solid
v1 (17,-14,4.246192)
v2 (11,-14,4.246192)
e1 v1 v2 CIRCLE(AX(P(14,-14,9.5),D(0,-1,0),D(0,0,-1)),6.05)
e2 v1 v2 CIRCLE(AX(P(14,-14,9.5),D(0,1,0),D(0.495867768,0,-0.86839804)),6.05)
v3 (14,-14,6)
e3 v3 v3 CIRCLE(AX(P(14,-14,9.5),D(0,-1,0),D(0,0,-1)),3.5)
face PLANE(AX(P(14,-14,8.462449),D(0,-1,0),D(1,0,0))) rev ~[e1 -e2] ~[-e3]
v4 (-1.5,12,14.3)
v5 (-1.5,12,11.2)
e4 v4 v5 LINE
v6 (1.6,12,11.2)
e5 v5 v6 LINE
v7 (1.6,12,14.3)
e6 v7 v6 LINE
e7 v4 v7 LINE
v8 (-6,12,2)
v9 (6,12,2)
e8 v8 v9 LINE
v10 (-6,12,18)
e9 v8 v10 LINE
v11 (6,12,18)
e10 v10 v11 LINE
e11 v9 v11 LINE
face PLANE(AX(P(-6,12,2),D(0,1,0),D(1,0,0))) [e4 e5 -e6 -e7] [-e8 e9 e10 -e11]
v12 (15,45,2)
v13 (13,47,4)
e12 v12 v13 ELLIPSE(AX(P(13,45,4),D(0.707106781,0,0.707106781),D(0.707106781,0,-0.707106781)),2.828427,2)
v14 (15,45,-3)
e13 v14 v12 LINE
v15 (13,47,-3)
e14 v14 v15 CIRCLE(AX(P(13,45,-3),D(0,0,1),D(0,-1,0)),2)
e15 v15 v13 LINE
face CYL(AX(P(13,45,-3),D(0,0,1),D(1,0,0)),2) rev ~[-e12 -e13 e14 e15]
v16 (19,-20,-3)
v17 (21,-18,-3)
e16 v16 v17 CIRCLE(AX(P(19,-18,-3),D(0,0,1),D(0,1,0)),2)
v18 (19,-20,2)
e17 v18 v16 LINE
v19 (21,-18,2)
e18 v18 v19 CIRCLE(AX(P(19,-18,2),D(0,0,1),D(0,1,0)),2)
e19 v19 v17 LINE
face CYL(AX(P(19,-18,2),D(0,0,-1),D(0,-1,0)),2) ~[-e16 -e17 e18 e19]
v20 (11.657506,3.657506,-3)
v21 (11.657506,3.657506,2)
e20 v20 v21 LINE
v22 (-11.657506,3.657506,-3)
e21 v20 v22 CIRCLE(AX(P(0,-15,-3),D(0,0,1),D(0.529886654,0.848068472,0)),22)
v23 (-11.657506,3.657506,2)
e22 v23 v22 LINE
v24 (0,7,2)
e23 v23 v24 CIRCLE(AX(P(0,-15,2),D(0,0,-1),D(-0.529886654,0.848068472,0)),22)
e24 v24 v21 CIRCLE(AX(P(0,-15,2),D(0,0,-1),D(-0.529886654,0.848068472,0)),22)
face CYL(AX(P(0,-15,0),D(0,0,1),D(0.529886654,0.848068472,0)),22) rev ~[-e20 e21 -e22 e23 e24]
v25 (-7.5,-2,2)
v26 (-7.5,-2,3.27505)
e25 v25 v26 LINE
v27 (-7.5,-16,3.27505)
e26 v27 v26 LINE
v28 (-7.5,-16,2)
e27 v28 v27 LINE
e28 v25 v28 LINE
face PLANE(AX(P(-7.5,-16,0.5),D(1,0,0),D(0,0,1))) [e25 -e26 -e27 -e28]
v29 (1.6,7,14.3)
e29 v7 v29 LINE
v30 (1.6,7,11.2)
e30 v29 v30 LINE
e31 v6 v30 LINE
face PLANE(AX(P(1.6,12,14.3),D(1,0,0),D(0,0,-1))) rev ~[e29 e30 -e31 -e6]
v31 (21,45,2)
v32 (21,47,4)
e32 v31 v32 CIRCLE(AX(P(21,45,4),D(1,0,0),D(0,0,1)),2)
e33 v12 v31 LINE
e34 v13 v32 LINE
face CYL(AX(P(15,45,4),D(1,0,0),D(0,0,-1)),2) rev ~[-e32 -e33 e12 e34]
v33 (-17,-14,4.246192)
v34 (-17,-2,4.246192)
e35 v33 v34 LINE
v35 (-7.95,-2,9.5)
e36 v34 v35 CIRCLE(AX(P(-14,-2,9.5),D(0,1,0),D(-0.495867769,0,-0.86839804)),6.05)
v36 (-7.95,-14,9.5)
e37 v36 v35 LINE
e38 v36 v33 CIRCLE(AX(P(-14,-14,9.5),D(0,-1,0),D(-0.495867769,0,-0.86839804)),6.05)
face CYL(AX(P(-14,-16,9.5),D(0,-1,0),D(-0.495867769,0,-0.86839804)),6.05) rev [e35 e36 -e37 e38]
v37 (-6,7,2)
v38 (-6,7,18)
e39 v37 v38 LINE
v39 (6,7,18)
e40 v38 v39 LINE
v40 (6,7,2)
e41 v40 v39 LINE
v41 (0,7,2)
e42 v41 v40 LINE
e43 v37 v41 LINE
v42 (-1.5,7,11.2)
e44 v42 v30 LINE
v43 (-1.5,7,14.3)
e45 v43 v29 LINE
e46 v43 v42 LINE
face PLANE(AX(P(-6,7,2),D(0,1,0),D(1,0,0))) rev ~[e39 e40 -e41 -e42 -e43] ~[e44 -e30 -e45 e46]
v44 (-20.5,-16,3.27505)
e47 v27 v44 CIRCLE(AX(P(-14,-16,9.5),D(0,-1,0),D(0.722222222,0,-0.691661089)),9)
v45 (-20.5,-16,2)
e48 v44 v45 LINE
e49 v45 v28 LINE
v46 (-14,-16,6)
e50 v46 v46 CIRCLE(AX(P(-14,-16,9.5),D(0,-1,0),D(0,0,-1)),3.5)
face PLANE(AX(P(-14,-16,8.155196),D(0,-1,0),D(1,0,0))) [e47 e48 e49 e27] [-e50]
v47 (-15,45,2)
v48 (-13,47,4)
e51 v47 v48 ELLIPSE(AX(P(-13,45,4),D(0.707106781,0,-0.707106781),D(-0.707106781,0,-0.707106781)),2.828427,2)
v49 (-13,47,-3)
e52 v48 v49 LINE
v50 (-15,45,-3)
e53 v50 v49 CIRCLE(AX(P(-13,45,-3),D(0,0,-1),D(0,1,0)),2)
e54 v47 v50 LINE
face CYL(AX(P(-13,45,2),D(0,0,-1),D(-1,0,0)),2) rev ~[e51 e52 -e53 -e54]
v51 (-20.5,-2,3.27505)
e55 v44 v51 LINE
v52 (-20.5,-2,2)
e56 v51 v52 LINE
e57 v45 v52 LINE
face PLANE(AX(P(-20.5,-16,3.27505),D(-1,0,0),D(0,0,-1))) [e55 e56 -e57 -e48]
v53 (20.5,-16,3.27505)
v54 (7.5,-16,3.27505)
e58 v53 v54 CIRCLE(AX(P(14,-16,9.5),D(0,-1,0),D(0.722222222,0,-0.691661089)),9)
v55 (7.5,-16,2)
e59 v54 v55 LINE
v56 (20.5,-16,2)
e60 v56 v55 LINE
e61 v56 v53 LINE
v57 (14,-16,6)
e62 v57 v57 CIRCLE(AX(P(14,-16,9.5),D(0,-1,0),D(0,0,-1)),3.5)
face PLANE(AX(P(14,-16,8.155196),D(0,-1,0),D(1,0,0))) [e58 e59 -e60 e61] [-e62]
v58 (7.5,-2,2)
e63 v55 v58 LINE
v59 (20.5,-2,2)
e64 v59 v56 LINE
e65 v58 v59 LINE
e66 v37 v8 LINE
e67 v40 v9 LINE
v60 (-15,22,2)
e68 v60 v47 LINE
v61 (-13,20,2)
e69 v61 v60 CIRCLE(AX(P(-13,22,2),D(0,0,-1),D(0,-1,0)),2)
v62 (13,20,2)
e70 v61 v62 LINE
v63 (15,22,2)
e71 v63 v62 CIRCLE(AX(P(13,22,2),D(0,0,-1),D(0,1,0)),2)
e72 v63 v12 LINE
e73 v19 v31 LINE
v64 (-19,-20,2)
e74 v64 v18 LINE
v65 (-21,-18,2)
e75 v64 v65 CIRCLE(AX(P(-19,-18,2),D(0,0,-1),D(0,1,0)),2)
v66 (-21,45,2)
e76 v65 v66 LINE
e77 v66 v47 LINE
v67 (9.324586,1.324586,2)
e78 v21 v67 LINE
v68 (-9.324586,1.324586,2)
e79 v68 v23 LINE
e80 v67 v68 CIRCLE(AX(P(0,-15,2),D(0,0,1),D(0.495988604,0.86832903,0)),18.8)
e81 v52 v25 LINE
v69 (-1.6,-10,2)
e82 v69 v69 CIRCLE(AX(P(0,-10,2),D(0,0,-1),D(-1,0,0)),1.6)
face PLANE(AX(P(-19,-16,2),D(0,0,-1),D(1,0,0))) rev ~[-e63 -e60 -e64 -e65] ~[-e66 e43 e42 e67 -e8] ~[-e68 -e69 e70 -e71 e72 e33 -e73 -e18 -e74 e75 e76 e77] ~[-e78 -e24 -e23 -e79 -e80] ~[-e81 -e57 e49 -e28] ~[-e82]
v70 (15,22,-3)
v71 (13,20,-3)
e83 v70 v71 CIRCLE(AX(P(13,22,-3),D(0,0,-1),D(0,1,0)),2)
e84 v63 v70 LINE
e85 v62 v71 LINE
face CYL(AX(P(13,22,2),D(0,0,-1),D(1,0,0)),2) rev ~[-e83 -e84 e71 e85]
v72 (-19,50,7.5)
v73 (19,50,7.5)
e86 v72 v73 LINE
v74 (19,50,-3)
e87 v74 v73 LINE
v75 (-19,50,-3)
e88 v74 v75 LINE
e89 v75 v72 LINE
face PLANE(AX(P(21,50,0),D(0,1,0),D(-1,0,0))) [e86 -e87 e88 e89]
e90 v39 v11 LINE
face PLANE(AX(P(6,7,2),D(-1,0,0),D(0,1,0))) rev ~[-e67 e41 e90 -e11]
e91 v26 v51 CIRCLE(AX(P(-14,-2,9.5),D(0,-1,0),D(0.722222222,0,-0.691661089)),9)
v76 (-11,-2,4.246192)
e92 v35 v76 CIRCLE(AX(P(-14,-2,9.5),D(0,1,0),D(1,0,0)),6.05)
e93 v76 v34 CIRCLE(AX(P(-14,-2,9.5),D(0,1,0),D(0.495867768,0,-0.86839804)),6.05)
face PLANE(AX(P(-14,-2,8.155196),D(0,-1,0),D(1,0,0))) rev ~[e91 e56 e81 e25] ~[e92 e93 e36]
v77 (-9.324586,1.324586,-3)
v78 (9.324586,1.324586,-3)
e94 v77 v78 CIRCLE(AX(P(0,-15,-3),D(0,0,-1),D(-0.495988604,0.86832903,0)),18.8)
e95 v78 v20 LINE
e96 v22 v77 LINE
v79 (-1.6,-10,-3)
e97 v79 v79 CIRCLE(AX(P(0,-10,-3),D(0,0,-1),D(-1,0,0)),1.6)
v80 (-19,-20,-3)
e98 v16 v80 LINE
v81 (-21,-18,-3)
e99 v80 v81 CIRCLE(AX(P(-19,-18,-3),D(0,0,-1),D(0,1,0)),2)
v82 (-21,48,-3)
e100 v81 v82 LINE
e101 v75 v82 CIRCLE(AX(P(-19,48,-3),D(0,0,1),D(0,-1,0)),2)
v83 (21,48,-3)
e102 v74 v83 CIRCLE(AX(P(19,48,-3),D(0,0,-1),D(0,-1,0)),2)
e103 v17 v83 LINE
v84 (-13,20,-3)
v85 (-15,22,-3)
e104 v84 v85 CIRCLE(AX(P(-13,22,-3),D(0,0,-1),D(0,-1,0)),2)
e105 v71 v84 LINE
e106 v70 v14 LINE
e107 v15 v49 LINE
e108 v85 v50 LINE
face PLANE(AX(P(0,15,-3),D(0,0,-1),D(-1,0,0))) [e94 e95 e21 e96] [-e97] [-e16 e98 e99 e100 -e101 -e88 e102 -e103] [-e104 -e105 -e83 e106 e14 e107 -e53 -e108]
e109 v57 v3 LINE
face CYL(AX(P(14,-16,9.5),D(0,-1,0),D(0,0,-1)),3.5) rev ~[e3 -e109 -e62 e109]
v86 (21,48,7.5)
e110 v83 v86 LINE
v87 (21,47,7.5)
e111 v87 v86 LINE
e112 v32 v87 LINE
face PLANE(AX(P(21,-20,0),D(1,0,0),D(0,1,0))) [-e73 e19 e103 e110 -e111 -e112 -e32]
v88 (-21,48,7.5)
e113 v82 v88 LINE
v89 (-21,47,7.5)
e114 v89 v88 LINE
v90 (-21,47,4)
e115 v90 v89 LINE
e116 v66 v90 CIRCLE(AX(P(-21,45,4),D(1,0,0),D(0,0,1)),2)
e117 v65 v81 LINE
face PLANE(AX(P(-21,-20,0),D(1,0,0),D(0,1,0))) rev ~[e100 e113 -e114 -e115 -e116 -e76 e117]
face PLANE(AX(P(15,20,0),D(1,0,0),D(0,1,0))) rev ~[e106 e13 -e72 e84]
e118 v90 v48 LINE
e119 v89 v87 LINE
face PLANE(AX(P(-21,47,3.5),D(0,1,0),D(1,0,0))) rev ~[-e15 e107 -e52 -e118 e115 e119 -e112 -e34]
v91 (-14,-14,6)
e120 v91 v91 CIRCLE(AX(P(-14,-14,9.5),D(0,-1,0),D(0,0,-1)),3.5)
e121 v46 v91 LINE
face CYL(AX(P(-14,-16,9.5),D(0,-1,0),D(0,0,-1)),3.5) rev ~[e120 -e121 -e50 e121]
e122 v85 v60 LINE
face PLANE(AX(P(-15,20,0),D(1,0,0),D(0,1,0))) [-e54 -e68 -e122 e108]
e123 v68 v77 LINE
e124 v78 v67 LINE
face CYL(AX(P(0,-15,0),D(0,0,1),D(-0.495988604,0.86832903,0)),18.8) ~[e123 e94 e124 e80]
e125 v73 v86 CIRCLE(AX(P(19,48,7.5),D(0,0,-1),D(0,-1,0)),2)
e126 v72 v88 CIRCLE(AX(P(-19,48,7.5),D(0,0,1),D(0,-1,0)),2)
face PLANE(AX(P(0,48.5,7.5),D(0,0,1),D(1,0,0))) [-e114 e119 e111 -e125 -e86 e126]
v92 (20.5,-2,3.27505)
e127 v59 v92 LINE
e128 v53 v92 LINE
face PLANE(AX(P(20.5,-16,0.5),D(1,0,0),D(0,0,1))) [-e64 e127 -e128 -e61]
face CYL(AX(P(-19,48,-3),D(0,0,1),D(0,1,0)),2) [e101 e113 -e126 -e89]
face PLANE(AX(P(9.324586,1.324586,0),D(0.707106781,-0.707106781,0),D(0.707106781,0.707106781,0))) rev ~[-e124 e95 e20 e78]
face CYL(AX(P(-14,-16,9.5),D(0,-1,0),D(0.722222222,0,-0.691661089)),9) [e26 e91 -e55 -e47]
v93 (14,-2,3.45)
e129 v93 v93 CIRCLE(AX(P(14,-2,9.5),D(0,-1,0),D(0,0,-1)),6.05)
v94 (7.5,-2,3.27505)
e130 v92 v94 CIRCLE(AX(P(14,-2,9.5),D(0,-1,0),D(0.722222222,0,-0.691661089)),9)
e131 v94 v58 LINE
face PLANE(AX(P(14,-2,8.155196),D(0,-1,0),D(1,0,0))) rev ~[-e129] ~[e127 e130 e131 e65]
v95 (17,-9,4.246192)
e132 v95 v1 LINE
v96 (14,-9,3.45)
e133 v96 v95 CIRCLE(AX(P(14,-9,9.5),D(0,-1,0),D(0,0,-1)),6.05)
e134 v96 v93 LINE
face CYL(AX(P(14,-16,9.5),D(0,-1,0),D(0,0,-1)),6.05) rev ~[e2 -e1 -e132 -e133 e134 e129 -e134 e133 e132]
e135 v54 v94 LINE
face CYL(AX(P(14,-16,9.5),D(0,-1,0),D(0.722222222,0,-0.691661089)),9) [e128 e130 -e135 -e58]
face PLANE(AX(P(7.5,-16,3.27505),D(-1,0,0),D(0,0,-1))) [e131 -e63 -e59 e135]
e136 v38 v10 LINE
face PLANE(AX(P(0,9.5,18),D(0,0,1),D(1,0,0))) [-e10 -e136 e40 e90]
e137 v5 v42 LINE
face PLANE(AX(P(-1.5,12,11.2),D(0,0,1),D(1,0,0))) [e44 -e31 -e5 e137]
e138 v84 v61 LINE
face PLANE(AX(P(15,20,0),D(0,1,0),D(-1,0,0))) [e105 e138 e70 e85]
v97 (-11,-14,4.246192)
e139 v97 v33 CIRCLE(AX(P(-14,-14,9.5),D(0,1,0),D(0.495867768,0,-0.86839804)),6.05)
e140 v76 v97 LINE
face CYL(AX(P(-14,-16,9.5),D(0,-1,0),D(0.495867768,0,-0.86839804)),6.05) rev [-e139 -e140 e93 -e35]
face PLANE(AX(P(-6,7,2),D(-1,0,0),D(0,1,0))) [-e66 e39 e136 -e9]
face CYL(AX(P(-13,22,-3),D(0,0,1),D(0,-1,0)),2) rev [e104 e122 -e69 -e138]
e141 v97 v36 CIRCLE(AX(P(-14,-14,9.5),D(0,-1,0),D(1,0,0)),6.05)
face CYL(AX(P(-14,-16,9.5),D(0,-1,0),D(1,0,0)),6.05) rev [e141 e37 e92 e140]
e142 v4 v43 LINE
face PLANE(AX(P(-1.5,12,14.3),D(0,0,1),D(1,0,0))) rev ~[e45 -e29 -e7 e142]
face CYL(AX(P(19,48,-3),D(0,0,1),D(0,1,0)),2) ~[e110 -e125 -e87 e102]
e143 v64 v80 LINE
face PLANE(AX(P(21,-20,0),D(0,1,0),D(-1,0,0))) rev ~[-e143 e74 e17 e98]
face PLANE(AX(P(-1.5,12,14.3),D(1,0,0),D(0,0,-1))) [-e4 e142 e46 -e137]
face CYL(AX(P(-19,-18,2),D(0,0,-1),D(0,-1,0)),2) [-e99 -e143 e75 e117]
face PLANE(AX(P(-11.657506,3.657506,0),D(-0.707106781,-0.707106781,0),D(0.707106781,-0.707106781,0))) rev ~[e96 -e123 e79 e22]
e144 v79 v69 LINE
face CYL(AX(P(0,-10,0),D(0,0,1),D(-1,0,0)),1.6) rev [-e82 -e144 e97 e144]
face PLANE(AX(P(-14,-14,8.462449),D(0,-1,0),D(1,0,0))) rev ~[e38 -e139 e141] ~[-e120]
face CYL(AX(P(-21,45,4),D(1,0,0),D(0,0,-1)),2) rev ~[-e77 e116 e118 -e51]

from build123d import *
from build123d.topology import SkipClean

# Parameters (mm, degrees)
SKETCH1_W                                    = 42
SKETCH1_H                                    = 40
BOSS_EXTRUDE2_DEPTH                          = 2
SKETCH2_W                                    = 6
SKETCH2_H                                    = 4
BOSS_EXTRUDE5_DEPTH                          = 3
SKETCH4_R                                    = 3.5
SKETCH4_R_2                                  = 1.6
BOSS_EXTRUDE6_DEPTH                          = 4
MIRROR2_AT_THE_SECOND_PLANE_COPY_1_SKETC_W   = 6
MIRROR2_AT_THE_SECOND_PLANE_COPY_1_SKETC_H   = 4
MIRROR2_AT_THE_SECOND_PLANE_COPY_1_DEPTH     = 3
MIRROR2_AT_THE_SECOND_PLANE_COPY_2_SKETC_R   = 3.5
MIRROR2_AT_THE_SECOND_PLANE_COPY_2_SKETC_R_2 = 1.6
MIRROR2_AT_THE_SECOND_PLANE_COPY_2_DEPTH     = 4
CUT_EXTRUDE2_DEPTH                           = 2
SKETCH8_R                                    = 1.6
CUT_EXTRUDE3_DEPTH                           = 2
SKETCH18_W                                   = 6
SKETCH18_H                                   = 2
BOSS_EXTRUDE10_DEPTH                         = 30
SKETCH19_W                                   = 42
SKETCH19_H                                   = 3.5
BOSS_EXTRUDE11_DEPTH                         = 3
SKETCH20_R                                   = 1.6
BOSS_EXTRUDE12_DEPTH                         = 10
SKETCH22_R                                   = 1.6
CUT_EXTRUDE4_DEPTH                           = 7
SKETCH23_R                                   = 6.05
BOSS_EXTRUDE14_DEPTH                         = 14
SKETCH21_R                                   = 1.6
CUT_EXTRUDE5_DEPTH                           = 10
CUT_EXTRUDE7_DEPTH                           = 22
CUT_EXTRUDE9_DEPTH                           = 2
BOSS_EXTRUDE19_START                         = 2
SKETCH32_R                                   = 3.5
BOSS_EXTRUDE19_DEPTH                         = 2
SKETCH33_W                                   = 42
SKETCH33_H                                   = 3
BOSS_EXTRUDE20_DEPTH                         = 4
SKETCH34_W                                   = 42
SKETCH34_H                                   = 70
SKETCH34_R                                   = 1.6
SKETCH34_W_2                                 = 30
SKETCH34_H_2                                 = 27
BOSS_EXTRUDE21_DEPTH                         = 3
BOSS_EXTRUDE22_DEPTH                         = 14
FILLET1_R                                    = 2
SKETCH36_W                                   = 12
SKETCH36_H                                   = 5
BOSS_EXTRUDE23_DEPTH                         = 16
SKETCH37_W                                   = 3.1
SKETCH37_H                                   = 3.1
CUT_EXTRUDE10_DEPTH                          = 12


with BuildPart() as part:
    # Sketch1 → Boss-Extrude2 (new body)
    with BuildSketch(Plane.XY):
        Rectangle(SKETCH1_W, SKETCH1_H)
    extrude(amount=BOSS_EXTRUDE2_DEPTH)

    # Sketch2 → Boss-Extrude5 (add)
    with BuildSketch(Plane.XY.offset(2)):
        with Locations((-14, 10)):
            Rectangle(SKETCH2_W, SKETCH2_H)
    boss_extrude5 = extrude(amount=BOSS_EXTRUDE5_DEPTH)

    # Sketch4 → Boss-Extrude6 (add)
    with BuildSketch(Plane(origin=(0, 12, 0), x_dir=(1, 0, 0), z_dir=(0, 1, 0))):
        with Locations((-14, -6.6)):
            Circle(SKETCH4_R)
        with Locations(Location((-14, -6.6, 0), (0, 0, 270))):
            Circle(SKETCH4_R_2, mode=Mode.SUBTRACT)
    boss_extrude6 = extrude(amount=-BOSS_EXTRUDE6_DEPTH)

    # Mirror2: Boss-Extrude5, Boss-Extrude6 across plane
    add(boss_extrude5.mirror(Plane(origin=(0, 0, 0), x_dir=(0, 0, 1), z_dir=(1, 0, 0))))
    add(boss_extrude6.mirror(Plane(origin=(0, 0, 0), x_dir=(0, 0, 1), z_dir=(1, 0, 0))))

    # Mirror2 at the second plane: Boss-Extrude5, Boss-Extrude6 across plane
    add(boss_extrude5.mirror(Plane(origin=(0, 3, 0), x_dir=(0, 0, 1), z_dir=(0, -1, 0))))
    add(boss_extrude6.mirror(Plane(origin=(0, 3, 0), x_dir=(0, 0, 1), z_dir=(0, -1, 0))))

    # Mirror2 at the second plane copy 1 sketc → Mirror2 at the second plane copy 1 (add)
    with BuildSketch(Plane(origin=(0, 6, 2), x_dir=(-1, 0, 0), z_dir=(0, 0, 1))):
        with Locations((-14, 10)):
            Rectangle(MIRROR2_AT_THE_SECOND_PLANE_COPY_1_SKETC_W, MIRROR2_AT_THE_SECOND_PLANE_COPY_1_SKETC_H)
    extrude(amount=MIRROR2_AT_THE_SECOND_PLANE_COPY_1_DEPTH)

    # Mirror2 at the second plane copy 2 sketc → Mirror2 at the second plane copy 2 (add)
    with BuildSketch(Plane(origin=(0, -6, 0), x_dir=(-1, 0, 0), z_dir=(0, -1, 0))):
        with Locations((-14, -6.6)):
            Circle(MIRROR2_AT_THE_SECOND_PLANE_COPY_2_SKETC_R)
        with Locations(Location((-14, -6.6, 0), (0, 0, 270))):
            Circle(MIRROR2_AT_THE_SECOND_PLANE_COPY_2_SKETC_R_2, mode=Mode.SUBTRACT)
    extrude(amount=-MIRROR2_AT_THE_SECOND_PLANE_COPY_2_DEPTH)

    # Sketch7 → Cut-Extrude2 (cut)
    with BuildSketch(Plane.XY.offset(2)):
        with BuildLine():
            ThreePointArc((9.324585763, 1.324585763), (0, 3.8), (-9.324585763, 1.324585763))
            Line((-9.324585763, 1.324585763), (-11.657506391, 3.657506391))
            ThreePointArc((-11.657506391, 3.657506391), (0, 7), (11.657506391, 3.657506391))
            Line((11.657506391, 3.657506391), (9.324585763, 1.324585763))
        make_face()
    extrude(amount=-CUT_EXTRUDE2_DEPTH, mode=Mode.SUBTRACT)

    # Sketch8 → Cut-Extrude3 (cut)
    with BuildSketch(Plane(origin=(0, 0, 0), x_dir=(-1, 0, 0), z_dir=(0, 0, -1))):
        with Locations((0, -10)):
            Circle(SKETCH8_R)
    extrude(amount=-CUT_EXTRUDE3_DEPTH, mode=Mode.SUBTRACT)

    # Sketch18 → Boss-Extrude10 (add)
    with BuildSketch(Plane(origin=(0, 20, 0), x_dir=(1, 0, 0), z_dir=(0, 1, 0))):
        with Locations((-18, -1)):
            Rectangle(SKETCH18_W, SKETCH18_H)
        with Locations((18, -1)):
            Rectangle(SKETCH18_W, SKETCH18_H)
    extrude(amount=BOSS_EXTRUDE10_DEPTH)

    # Sketch19 → Boss-Extrude11 (add)
    with BuildSketch(Plane(origin=(0, 50, 0), x_dir=(1, 0, 0), z_dir=(0, 1, 0))):
        with Locations((0, -1.75)):
            Rectangle(SKETCH19_W, SKETCH19_H)
    extrude(amount=-BOSS_EXTRUDE11_DEPTH)

    # Sketch20 → Boss-Extrude12 (add)
    # profile 1 of 2: a face of its own
    with SkipClean():  # the faces are left unmerged after this step: merging them gives an invalid solid
        with BuildSketch(Plane.XZ.offset(6)):
            with BuildLine():
                Line((-11, 2), (-11, 4.797224362))
                ThreePointArc((-11, 4.797224362), (-14, 10.1), (-17, 4.797224362))
                Line((-17, 4.797224362), (-17, 2))
                Line((-17, 2), (-11, 2))
            make_face()
            with Locations(Location((-14, 6.6, 0), (0, 0, 90))):
                Circle(SKETCH20_R, mode=Mode.SUBTRACT)
        # profile 2 of 2: a face of its own
        with BuildSketch(Plane.XZ.offset(6)):
            with BuildLine():
                Line((11, 4.797224362), (11, 2))
                Line((11, 2), (17, 2))
                Line((17, 2), (17, 4.797224362))
                ThreePointArc((17, 4.797224362), (14, 10.1), (11, 4.797224362))
            make_face()
            with Locations(Location((14, 6.6, 0), (0, 0, 90))):
                Circle(SKETCH20_R, mode=Mode.SUBTRACT)
        extrude(amount=BOSS_EXTRUDE12_DEPTH)

    # Sketch22 → Cut-Extrude4 (cut)
    # profile 1 of 2: a face of its own
    with BuildSketch(Plane(origin=(0, -2, 0), x_dir=(1, 0, 0), z_dir=(0, 1, 0))):
        with BuildLine():
            Line((11, -2), (11, -4.797224362))
            ThreePointArc((11, -4.797224362), (14, -10.1), (17, -4.797224362))
            Line((17, -4.797224362), (17, -2))
            Line((17, -2), (11, -2))
        make_face()
        with Locations(Location((14, -6.6, 0), (0, 0, 90))):
            Circle(SKETCH22_R, mode=Mode.SUBTRACT)
    # profile 2 of 2: a face of its own
    with BuildSketch(Plane(origin=(0, -2, 0), x_dir=(1, 0, 0), z_dir=(0, 1, 0))):
        with BuildLine():
            Line((-11, -4.797224362), (-11, -2))
            Line((-11, -2), (-17, -2))
            Line((-17, -2), (-17, -4.797224362))
            ThreePointArc((-17, -4.797224362), (-14, -10.1), (-11, -4.797224362))
        make_face()
        with Locations(Location((-14, -6.6, 0), (0, 0, 90))):
            Circle(SKETCH22_R, mode=Mode.SUBTRACT)
    extrude(amount=-CUT_EXTRUDE4_DEPTH, mode=Mode.SUBTRACT)

    # Sketch23 → Boss-Extrude14 (add)
    # profile 1 of 3: a face of its own
    with BuildSketch(Plane.XZ.offset(16)):
        with BuildLine():
            Line((-19, 2), (-17, 2))
            Line((-17, 2), (-17, 4.246191857))
            ThreePointArc((-17, 4.246191857), (-17.03747428, 14.732231837), (-7.95, 9.5))
            ThreePointArc((-7.95, 9.5), (-8.767768163, 6.46252572), (-11, 4.246191857))
            Line((-11, 4.246191857), (-11, 2))
            Line((-11, 2), (-9, 2))
            Line((-9, 2), (-9, 3.909830056))
            ThreePointArc((-9, 3.909830056), (-14, 17), (-19, 3.909830056))
            Line((-19, 3.909830056), (-19, 2))
        make_face()
    # profile 2 of 3: a face of its own
    with BuildSketch(Plane.XZ.offset(16)):
        with BuildLine():
            Line((-17, 4.246191857), (-17, 2))
            Line((-17, 2), (-11, 2))
            Line((-11, 2), (-11, 4.246191857))
            ThreePointArc((-11, 4.246191857), (-14, 3.45), (-17, 4.246191857))
        make_face()
    # profile 3 of 3: a face of its own
    with BuildSketch(Plane.XZ.offset(16)):
        with BuildLine():
            ThreePointArc((9, 3.909830056), (14, 17), (19, 3.909830056))
            Line((19, 3.909830056), (19, 2))
            Line((19, 2), (9, 2))
            Line((9, 2), (9, 3.909830056))
        make_face()
        with Locations(Location((14, 9.5, 0), (0, 0, 270))):
            Circle(SKETCH23_R, mode=Mode.SUBTRACT)
    extrude(amount=-BOSS_EXTRUDE14_DEPTH)

    # Sketch21 → Cut-Extrude5 (cut)
    # profile 1 of 2: a face of its own
    with BuildSketch(Plane(origin=(0, 12, 0), x_dir=(1, 0, 0), z_dir=(0, 1, 0))):
        with BuildLine():
            Line((11, -2), (11, -4.797224362))
            ThreePointArc((11, -4.797224362), (14, -10.1), (17, -4.797224362))
            Line((17, -4.797224362), (17, -2))
            Line((17, -2), (11, -2))
        make_face()
        with Locations(Location((14, -6.6, 0), (0, 0, 90))):
            Circle(SKETCH21_R, mode=Mode.SUBTRACT)
    # profile 2 of 2: a face of its own
    with BuildSketch(Plane(origin=(0, 12, 0), x_dir=(1, 0, 0), z_dir=(0, 1, 0))):
        with BuildLine():
            Line((-11, -4.797224362), (-11, -2))
            Line((-11, -2), (-17, -2))
            Line((-17, -2), (-17, -4.797224362))
            ThreePointArc((-17, -4.797224362), (-14, -10.1), (-11, -4.797224362))
        make_face()
        with Locations(Location((-14, -6.6, 0), (0, 0, 90))):
            Circle(SKETCH21_R, mode=Mode.SUBTRACT)
    extrude(amount=-CUT_EXTRUDE5_DEPTH, mode=Mode.SUBTRACT)

    # Sketch24 → Cut-Extrude7 (cut)
    with BuildSketch(Plane(origin=(0, -9, 0), x_dir=(1, 0, 0), z_dir=(0, 1, 0))):
        with BuildLine():
            Line((11, -4.246191857), (11, -4.797224362))
            ThreePointArc((11, -4.797224362), (14, -10.1), (17, -4.797224362))
            Line((17, -4.797224362), (17, -4.246191857))
            ThreePointArc((17, -4.246191857), (14, -3.45), (11, -4.246191857))
        make_face()
        with BuildLine():
            Line((-11, -4.797224362), (-11, -4.246191857))
            ThreePointArc((-11, -4.246191857), (-14, -3.45), (-17, -4.246191857))
            Line((-17, -4.246191857), (-17, -4.797224362))
            ThreePointArc((-17, -4.797224362), (-14, -10.1), (-11, -4.797224362))
        make_face()
    extrude(amount=-CUT_EXTRUDE7_DEPTH, mode=Mode.SUBTRACT)

    # Sketch25 → Cut-Extrude9 (cut)
    with BuildSketch(Plane.XZ.offset(16)):
        with BuildLine():
            Line((-19, 2), (-9, 2))
            Line((-9, 2), (-9, 3.909830056))
            ThreePointArc((-9, 3.909830056), (-14, 17), (-19, 3.909830056))
            Line((-19, 3.909830056), (-19, 2))
        make_face()
        with BuildLine():
            Line((9, 3.909830056), (9, 2))
            Line((9, 2), (19, 2))
            Line((19, 2), (19, 3.909830056))
            ThreePointArc((19, 3.909830056), (14, 17), (9, 3.909830056))
        make_face()
    extrude(amount=-CUT_EXTRUDE9_DEPTH, mode=Mode.SUBTRACT)

    # Sketch32 → Boss-Extrude19 (add)
    # profile 1 of 2: a face of its own
    with BuildSketch(Plane.XZ.offset(14).offset(BOSS_EXTRUDE19_START)):
        with BuildLine():
            Line((9, 3.909830056), (9, 2))
            Line((9, 2), (19, 2))
            Line((19, 2), (19, 3.909830056))
            ThreePointArc((19, 3.909830056), (14, 17), (9, 3.909830056))
        make_face()
        with Locations(Location((14, 9.5, 0), (0, 0, 270))):
            Circle(SKETCH32_R, mode=Mode.SUBTRACT)
    # profile 2 of 2: a face of its own
    with BuildSketch(Plane.XZ.offset(14).offset(BOSS_EXTRUDE19_START)):
        with BuildLine():
            Line((-19, 3.909830056), (-19, 2))
            Line((-19, 2), (-9, 2))
            Line((-9, 2), (-9, 3.909830056))
            ThreePointArc((-9, 3.909830056), (-14, 17), (-19, 3.909830056))
        make_face()
        with Locations(Location((-14, 9.5, 0), (0, 0, 270))):
            Circle(SKETCH32_R, mode=Mode.SUBTRACT)
    extrude(amount=-BOSS_EXTRUDE19_DEPTH)

    # Sketch33 → Boss-Extrude20 (add)
    with BuildSketch(Plane.XY.offset(3.5)):
        with Locations((0, 48.5)):
            Rectangle(SKETCH33_W, SKETCH33_H)
    extrude(amount=BOSS_EXTRUDE20_DEPTH)

    # Sketch34 → Boss-Extrude21 (add)
    with BuildSketch(Plane(origin=(0, 0, 0), x_dir=(-1, 0, 0), z_dir=(0, 0, -1))):
        with Locations((0, 15)):
            Rectangle(SKETCH34_W, SKETCH34_H)
        with Locations((0, -10)):
            Circle(SKETCH34_R, mode=Mode.SUBTRACT)
        with BuildLine():
            Line((11.657506391, 3.657506391), (9.324585763, 1.324585763))
            ThreePointArc((9.324585763, 1.324585763), (0, 3.8), (-9.324585763, 1.324585763))
            Line((-9.324585763, 1.324585763), (-11.657506391, 3.657506391))
            ThreePointArc((-11.657506391, 3.657506391), (0, 7), (11.657506391, 3.657506391))
        make_face(mode=Mode.SUBTRACT)
        with Locations((0, 33.5)):
            Rectangle(SKETCH34_W_2, SKETCH34_H_2, mode=Mode.SUBTRACT)
    extrude(amount=BOSS_EXTRUDE21_DEPTH)

    # Sketch35 → Boss-Extrude22 (add)
    # profile 1 of 2: a face of its own
    with BuildSketch(Plane.XZ.offset(16)):
        with BuildLine():
            Line((-20.5, 3.275050201), (-20.5, 0.5))
            Line((-20.5, 0.5), (-7.5, 0.5))
            Line((-7.5, 0.5), (-7.5, 3.275050201))
            ThreePointArc((-7.5, 3.275050201), (-14, 18.5), (-20.5, 3.275050201))
        make_face()
        with BuildLine():
            Line((-19, 3.909830056), (-19, 2))
            Line((-19, 2), (-9, 2))
            Line((-9, 2), (-9, 3.909830056))
            ThreePointArc((-9, 3.909830056), (-14, 17), (-19, 3.909830056))
        make_face(mode=Mode.SUBTRACT)
    # profile 2 of 2: a face of its own
    with BuildSketch(Plane.XZ.offset(16)):
        with BuildLine():
            Line((7.5, 3.275050201), (7.5, 0.5))
            Line((7.5, 0.5), (20.5, 0.5))
            Line((20.5, 0.5), (20.5, 3.275050201))
            ThreePointArc((20.5, 3.275050201), (14, 18.5), (7.5, 3.275050201))
        make_face()
        with BuildLine():
            Line((9, 3.909830056), (9, 2))
            Line((9, 2), (19, 2))
            Line((19, 2), (19, 3.909830056))
            ThreePointArc((19, 3.909830056), (14, 17), (9, 3.909830056))
        make_face(mode=Mode.SUBTRACT)
    extrude(amount=-BOSS_EXTRUDE22_DEPTH)

    # Fillet1
    fillet1_edges = [part.edges().sort_by_distance(p)[0] for p in [
        (21, 50, 2.25),
        (15, 20, -0.5),
        (-21, 50, 2.25),
        (-15, 20, -0.5),
        (-15, 47, -0.5),
        (18, 47, 2),
        (15, 47, -0.5),
        (-18, 47, 2),
        (21, -20, -0.5),
        (-21, -20, -0.5),
    ]]
    fillet(fillet1_edges, radius=FILLET1_R)

    # Sketch36 → Boss-Extrude23 (add)
    with BuildSketch(Plane.XY.offset(2)):
        with Locations((0, 9.5)):
            Rectangle(SKETCH36_W, SKETCH36_H)
    extrude(amount=BOSS_EXTRUDE23_DEPTH)

    # Sketch37 → Cut-Extrude10 (cut)
    with BuildSketch(Plane(origin=(0, 12, 0), x_dir=(1, 0, 0), z_dir=(0, 1, 0))):
        with Locations((0.05, -12.75)):
            Rectangle(SKETCH37_W, SKETCH37_H)
    extrude(amount=-CUT_EXTRUDE10_DEPTH, mode=Mode.SUBTRACT)


solid = part.part
